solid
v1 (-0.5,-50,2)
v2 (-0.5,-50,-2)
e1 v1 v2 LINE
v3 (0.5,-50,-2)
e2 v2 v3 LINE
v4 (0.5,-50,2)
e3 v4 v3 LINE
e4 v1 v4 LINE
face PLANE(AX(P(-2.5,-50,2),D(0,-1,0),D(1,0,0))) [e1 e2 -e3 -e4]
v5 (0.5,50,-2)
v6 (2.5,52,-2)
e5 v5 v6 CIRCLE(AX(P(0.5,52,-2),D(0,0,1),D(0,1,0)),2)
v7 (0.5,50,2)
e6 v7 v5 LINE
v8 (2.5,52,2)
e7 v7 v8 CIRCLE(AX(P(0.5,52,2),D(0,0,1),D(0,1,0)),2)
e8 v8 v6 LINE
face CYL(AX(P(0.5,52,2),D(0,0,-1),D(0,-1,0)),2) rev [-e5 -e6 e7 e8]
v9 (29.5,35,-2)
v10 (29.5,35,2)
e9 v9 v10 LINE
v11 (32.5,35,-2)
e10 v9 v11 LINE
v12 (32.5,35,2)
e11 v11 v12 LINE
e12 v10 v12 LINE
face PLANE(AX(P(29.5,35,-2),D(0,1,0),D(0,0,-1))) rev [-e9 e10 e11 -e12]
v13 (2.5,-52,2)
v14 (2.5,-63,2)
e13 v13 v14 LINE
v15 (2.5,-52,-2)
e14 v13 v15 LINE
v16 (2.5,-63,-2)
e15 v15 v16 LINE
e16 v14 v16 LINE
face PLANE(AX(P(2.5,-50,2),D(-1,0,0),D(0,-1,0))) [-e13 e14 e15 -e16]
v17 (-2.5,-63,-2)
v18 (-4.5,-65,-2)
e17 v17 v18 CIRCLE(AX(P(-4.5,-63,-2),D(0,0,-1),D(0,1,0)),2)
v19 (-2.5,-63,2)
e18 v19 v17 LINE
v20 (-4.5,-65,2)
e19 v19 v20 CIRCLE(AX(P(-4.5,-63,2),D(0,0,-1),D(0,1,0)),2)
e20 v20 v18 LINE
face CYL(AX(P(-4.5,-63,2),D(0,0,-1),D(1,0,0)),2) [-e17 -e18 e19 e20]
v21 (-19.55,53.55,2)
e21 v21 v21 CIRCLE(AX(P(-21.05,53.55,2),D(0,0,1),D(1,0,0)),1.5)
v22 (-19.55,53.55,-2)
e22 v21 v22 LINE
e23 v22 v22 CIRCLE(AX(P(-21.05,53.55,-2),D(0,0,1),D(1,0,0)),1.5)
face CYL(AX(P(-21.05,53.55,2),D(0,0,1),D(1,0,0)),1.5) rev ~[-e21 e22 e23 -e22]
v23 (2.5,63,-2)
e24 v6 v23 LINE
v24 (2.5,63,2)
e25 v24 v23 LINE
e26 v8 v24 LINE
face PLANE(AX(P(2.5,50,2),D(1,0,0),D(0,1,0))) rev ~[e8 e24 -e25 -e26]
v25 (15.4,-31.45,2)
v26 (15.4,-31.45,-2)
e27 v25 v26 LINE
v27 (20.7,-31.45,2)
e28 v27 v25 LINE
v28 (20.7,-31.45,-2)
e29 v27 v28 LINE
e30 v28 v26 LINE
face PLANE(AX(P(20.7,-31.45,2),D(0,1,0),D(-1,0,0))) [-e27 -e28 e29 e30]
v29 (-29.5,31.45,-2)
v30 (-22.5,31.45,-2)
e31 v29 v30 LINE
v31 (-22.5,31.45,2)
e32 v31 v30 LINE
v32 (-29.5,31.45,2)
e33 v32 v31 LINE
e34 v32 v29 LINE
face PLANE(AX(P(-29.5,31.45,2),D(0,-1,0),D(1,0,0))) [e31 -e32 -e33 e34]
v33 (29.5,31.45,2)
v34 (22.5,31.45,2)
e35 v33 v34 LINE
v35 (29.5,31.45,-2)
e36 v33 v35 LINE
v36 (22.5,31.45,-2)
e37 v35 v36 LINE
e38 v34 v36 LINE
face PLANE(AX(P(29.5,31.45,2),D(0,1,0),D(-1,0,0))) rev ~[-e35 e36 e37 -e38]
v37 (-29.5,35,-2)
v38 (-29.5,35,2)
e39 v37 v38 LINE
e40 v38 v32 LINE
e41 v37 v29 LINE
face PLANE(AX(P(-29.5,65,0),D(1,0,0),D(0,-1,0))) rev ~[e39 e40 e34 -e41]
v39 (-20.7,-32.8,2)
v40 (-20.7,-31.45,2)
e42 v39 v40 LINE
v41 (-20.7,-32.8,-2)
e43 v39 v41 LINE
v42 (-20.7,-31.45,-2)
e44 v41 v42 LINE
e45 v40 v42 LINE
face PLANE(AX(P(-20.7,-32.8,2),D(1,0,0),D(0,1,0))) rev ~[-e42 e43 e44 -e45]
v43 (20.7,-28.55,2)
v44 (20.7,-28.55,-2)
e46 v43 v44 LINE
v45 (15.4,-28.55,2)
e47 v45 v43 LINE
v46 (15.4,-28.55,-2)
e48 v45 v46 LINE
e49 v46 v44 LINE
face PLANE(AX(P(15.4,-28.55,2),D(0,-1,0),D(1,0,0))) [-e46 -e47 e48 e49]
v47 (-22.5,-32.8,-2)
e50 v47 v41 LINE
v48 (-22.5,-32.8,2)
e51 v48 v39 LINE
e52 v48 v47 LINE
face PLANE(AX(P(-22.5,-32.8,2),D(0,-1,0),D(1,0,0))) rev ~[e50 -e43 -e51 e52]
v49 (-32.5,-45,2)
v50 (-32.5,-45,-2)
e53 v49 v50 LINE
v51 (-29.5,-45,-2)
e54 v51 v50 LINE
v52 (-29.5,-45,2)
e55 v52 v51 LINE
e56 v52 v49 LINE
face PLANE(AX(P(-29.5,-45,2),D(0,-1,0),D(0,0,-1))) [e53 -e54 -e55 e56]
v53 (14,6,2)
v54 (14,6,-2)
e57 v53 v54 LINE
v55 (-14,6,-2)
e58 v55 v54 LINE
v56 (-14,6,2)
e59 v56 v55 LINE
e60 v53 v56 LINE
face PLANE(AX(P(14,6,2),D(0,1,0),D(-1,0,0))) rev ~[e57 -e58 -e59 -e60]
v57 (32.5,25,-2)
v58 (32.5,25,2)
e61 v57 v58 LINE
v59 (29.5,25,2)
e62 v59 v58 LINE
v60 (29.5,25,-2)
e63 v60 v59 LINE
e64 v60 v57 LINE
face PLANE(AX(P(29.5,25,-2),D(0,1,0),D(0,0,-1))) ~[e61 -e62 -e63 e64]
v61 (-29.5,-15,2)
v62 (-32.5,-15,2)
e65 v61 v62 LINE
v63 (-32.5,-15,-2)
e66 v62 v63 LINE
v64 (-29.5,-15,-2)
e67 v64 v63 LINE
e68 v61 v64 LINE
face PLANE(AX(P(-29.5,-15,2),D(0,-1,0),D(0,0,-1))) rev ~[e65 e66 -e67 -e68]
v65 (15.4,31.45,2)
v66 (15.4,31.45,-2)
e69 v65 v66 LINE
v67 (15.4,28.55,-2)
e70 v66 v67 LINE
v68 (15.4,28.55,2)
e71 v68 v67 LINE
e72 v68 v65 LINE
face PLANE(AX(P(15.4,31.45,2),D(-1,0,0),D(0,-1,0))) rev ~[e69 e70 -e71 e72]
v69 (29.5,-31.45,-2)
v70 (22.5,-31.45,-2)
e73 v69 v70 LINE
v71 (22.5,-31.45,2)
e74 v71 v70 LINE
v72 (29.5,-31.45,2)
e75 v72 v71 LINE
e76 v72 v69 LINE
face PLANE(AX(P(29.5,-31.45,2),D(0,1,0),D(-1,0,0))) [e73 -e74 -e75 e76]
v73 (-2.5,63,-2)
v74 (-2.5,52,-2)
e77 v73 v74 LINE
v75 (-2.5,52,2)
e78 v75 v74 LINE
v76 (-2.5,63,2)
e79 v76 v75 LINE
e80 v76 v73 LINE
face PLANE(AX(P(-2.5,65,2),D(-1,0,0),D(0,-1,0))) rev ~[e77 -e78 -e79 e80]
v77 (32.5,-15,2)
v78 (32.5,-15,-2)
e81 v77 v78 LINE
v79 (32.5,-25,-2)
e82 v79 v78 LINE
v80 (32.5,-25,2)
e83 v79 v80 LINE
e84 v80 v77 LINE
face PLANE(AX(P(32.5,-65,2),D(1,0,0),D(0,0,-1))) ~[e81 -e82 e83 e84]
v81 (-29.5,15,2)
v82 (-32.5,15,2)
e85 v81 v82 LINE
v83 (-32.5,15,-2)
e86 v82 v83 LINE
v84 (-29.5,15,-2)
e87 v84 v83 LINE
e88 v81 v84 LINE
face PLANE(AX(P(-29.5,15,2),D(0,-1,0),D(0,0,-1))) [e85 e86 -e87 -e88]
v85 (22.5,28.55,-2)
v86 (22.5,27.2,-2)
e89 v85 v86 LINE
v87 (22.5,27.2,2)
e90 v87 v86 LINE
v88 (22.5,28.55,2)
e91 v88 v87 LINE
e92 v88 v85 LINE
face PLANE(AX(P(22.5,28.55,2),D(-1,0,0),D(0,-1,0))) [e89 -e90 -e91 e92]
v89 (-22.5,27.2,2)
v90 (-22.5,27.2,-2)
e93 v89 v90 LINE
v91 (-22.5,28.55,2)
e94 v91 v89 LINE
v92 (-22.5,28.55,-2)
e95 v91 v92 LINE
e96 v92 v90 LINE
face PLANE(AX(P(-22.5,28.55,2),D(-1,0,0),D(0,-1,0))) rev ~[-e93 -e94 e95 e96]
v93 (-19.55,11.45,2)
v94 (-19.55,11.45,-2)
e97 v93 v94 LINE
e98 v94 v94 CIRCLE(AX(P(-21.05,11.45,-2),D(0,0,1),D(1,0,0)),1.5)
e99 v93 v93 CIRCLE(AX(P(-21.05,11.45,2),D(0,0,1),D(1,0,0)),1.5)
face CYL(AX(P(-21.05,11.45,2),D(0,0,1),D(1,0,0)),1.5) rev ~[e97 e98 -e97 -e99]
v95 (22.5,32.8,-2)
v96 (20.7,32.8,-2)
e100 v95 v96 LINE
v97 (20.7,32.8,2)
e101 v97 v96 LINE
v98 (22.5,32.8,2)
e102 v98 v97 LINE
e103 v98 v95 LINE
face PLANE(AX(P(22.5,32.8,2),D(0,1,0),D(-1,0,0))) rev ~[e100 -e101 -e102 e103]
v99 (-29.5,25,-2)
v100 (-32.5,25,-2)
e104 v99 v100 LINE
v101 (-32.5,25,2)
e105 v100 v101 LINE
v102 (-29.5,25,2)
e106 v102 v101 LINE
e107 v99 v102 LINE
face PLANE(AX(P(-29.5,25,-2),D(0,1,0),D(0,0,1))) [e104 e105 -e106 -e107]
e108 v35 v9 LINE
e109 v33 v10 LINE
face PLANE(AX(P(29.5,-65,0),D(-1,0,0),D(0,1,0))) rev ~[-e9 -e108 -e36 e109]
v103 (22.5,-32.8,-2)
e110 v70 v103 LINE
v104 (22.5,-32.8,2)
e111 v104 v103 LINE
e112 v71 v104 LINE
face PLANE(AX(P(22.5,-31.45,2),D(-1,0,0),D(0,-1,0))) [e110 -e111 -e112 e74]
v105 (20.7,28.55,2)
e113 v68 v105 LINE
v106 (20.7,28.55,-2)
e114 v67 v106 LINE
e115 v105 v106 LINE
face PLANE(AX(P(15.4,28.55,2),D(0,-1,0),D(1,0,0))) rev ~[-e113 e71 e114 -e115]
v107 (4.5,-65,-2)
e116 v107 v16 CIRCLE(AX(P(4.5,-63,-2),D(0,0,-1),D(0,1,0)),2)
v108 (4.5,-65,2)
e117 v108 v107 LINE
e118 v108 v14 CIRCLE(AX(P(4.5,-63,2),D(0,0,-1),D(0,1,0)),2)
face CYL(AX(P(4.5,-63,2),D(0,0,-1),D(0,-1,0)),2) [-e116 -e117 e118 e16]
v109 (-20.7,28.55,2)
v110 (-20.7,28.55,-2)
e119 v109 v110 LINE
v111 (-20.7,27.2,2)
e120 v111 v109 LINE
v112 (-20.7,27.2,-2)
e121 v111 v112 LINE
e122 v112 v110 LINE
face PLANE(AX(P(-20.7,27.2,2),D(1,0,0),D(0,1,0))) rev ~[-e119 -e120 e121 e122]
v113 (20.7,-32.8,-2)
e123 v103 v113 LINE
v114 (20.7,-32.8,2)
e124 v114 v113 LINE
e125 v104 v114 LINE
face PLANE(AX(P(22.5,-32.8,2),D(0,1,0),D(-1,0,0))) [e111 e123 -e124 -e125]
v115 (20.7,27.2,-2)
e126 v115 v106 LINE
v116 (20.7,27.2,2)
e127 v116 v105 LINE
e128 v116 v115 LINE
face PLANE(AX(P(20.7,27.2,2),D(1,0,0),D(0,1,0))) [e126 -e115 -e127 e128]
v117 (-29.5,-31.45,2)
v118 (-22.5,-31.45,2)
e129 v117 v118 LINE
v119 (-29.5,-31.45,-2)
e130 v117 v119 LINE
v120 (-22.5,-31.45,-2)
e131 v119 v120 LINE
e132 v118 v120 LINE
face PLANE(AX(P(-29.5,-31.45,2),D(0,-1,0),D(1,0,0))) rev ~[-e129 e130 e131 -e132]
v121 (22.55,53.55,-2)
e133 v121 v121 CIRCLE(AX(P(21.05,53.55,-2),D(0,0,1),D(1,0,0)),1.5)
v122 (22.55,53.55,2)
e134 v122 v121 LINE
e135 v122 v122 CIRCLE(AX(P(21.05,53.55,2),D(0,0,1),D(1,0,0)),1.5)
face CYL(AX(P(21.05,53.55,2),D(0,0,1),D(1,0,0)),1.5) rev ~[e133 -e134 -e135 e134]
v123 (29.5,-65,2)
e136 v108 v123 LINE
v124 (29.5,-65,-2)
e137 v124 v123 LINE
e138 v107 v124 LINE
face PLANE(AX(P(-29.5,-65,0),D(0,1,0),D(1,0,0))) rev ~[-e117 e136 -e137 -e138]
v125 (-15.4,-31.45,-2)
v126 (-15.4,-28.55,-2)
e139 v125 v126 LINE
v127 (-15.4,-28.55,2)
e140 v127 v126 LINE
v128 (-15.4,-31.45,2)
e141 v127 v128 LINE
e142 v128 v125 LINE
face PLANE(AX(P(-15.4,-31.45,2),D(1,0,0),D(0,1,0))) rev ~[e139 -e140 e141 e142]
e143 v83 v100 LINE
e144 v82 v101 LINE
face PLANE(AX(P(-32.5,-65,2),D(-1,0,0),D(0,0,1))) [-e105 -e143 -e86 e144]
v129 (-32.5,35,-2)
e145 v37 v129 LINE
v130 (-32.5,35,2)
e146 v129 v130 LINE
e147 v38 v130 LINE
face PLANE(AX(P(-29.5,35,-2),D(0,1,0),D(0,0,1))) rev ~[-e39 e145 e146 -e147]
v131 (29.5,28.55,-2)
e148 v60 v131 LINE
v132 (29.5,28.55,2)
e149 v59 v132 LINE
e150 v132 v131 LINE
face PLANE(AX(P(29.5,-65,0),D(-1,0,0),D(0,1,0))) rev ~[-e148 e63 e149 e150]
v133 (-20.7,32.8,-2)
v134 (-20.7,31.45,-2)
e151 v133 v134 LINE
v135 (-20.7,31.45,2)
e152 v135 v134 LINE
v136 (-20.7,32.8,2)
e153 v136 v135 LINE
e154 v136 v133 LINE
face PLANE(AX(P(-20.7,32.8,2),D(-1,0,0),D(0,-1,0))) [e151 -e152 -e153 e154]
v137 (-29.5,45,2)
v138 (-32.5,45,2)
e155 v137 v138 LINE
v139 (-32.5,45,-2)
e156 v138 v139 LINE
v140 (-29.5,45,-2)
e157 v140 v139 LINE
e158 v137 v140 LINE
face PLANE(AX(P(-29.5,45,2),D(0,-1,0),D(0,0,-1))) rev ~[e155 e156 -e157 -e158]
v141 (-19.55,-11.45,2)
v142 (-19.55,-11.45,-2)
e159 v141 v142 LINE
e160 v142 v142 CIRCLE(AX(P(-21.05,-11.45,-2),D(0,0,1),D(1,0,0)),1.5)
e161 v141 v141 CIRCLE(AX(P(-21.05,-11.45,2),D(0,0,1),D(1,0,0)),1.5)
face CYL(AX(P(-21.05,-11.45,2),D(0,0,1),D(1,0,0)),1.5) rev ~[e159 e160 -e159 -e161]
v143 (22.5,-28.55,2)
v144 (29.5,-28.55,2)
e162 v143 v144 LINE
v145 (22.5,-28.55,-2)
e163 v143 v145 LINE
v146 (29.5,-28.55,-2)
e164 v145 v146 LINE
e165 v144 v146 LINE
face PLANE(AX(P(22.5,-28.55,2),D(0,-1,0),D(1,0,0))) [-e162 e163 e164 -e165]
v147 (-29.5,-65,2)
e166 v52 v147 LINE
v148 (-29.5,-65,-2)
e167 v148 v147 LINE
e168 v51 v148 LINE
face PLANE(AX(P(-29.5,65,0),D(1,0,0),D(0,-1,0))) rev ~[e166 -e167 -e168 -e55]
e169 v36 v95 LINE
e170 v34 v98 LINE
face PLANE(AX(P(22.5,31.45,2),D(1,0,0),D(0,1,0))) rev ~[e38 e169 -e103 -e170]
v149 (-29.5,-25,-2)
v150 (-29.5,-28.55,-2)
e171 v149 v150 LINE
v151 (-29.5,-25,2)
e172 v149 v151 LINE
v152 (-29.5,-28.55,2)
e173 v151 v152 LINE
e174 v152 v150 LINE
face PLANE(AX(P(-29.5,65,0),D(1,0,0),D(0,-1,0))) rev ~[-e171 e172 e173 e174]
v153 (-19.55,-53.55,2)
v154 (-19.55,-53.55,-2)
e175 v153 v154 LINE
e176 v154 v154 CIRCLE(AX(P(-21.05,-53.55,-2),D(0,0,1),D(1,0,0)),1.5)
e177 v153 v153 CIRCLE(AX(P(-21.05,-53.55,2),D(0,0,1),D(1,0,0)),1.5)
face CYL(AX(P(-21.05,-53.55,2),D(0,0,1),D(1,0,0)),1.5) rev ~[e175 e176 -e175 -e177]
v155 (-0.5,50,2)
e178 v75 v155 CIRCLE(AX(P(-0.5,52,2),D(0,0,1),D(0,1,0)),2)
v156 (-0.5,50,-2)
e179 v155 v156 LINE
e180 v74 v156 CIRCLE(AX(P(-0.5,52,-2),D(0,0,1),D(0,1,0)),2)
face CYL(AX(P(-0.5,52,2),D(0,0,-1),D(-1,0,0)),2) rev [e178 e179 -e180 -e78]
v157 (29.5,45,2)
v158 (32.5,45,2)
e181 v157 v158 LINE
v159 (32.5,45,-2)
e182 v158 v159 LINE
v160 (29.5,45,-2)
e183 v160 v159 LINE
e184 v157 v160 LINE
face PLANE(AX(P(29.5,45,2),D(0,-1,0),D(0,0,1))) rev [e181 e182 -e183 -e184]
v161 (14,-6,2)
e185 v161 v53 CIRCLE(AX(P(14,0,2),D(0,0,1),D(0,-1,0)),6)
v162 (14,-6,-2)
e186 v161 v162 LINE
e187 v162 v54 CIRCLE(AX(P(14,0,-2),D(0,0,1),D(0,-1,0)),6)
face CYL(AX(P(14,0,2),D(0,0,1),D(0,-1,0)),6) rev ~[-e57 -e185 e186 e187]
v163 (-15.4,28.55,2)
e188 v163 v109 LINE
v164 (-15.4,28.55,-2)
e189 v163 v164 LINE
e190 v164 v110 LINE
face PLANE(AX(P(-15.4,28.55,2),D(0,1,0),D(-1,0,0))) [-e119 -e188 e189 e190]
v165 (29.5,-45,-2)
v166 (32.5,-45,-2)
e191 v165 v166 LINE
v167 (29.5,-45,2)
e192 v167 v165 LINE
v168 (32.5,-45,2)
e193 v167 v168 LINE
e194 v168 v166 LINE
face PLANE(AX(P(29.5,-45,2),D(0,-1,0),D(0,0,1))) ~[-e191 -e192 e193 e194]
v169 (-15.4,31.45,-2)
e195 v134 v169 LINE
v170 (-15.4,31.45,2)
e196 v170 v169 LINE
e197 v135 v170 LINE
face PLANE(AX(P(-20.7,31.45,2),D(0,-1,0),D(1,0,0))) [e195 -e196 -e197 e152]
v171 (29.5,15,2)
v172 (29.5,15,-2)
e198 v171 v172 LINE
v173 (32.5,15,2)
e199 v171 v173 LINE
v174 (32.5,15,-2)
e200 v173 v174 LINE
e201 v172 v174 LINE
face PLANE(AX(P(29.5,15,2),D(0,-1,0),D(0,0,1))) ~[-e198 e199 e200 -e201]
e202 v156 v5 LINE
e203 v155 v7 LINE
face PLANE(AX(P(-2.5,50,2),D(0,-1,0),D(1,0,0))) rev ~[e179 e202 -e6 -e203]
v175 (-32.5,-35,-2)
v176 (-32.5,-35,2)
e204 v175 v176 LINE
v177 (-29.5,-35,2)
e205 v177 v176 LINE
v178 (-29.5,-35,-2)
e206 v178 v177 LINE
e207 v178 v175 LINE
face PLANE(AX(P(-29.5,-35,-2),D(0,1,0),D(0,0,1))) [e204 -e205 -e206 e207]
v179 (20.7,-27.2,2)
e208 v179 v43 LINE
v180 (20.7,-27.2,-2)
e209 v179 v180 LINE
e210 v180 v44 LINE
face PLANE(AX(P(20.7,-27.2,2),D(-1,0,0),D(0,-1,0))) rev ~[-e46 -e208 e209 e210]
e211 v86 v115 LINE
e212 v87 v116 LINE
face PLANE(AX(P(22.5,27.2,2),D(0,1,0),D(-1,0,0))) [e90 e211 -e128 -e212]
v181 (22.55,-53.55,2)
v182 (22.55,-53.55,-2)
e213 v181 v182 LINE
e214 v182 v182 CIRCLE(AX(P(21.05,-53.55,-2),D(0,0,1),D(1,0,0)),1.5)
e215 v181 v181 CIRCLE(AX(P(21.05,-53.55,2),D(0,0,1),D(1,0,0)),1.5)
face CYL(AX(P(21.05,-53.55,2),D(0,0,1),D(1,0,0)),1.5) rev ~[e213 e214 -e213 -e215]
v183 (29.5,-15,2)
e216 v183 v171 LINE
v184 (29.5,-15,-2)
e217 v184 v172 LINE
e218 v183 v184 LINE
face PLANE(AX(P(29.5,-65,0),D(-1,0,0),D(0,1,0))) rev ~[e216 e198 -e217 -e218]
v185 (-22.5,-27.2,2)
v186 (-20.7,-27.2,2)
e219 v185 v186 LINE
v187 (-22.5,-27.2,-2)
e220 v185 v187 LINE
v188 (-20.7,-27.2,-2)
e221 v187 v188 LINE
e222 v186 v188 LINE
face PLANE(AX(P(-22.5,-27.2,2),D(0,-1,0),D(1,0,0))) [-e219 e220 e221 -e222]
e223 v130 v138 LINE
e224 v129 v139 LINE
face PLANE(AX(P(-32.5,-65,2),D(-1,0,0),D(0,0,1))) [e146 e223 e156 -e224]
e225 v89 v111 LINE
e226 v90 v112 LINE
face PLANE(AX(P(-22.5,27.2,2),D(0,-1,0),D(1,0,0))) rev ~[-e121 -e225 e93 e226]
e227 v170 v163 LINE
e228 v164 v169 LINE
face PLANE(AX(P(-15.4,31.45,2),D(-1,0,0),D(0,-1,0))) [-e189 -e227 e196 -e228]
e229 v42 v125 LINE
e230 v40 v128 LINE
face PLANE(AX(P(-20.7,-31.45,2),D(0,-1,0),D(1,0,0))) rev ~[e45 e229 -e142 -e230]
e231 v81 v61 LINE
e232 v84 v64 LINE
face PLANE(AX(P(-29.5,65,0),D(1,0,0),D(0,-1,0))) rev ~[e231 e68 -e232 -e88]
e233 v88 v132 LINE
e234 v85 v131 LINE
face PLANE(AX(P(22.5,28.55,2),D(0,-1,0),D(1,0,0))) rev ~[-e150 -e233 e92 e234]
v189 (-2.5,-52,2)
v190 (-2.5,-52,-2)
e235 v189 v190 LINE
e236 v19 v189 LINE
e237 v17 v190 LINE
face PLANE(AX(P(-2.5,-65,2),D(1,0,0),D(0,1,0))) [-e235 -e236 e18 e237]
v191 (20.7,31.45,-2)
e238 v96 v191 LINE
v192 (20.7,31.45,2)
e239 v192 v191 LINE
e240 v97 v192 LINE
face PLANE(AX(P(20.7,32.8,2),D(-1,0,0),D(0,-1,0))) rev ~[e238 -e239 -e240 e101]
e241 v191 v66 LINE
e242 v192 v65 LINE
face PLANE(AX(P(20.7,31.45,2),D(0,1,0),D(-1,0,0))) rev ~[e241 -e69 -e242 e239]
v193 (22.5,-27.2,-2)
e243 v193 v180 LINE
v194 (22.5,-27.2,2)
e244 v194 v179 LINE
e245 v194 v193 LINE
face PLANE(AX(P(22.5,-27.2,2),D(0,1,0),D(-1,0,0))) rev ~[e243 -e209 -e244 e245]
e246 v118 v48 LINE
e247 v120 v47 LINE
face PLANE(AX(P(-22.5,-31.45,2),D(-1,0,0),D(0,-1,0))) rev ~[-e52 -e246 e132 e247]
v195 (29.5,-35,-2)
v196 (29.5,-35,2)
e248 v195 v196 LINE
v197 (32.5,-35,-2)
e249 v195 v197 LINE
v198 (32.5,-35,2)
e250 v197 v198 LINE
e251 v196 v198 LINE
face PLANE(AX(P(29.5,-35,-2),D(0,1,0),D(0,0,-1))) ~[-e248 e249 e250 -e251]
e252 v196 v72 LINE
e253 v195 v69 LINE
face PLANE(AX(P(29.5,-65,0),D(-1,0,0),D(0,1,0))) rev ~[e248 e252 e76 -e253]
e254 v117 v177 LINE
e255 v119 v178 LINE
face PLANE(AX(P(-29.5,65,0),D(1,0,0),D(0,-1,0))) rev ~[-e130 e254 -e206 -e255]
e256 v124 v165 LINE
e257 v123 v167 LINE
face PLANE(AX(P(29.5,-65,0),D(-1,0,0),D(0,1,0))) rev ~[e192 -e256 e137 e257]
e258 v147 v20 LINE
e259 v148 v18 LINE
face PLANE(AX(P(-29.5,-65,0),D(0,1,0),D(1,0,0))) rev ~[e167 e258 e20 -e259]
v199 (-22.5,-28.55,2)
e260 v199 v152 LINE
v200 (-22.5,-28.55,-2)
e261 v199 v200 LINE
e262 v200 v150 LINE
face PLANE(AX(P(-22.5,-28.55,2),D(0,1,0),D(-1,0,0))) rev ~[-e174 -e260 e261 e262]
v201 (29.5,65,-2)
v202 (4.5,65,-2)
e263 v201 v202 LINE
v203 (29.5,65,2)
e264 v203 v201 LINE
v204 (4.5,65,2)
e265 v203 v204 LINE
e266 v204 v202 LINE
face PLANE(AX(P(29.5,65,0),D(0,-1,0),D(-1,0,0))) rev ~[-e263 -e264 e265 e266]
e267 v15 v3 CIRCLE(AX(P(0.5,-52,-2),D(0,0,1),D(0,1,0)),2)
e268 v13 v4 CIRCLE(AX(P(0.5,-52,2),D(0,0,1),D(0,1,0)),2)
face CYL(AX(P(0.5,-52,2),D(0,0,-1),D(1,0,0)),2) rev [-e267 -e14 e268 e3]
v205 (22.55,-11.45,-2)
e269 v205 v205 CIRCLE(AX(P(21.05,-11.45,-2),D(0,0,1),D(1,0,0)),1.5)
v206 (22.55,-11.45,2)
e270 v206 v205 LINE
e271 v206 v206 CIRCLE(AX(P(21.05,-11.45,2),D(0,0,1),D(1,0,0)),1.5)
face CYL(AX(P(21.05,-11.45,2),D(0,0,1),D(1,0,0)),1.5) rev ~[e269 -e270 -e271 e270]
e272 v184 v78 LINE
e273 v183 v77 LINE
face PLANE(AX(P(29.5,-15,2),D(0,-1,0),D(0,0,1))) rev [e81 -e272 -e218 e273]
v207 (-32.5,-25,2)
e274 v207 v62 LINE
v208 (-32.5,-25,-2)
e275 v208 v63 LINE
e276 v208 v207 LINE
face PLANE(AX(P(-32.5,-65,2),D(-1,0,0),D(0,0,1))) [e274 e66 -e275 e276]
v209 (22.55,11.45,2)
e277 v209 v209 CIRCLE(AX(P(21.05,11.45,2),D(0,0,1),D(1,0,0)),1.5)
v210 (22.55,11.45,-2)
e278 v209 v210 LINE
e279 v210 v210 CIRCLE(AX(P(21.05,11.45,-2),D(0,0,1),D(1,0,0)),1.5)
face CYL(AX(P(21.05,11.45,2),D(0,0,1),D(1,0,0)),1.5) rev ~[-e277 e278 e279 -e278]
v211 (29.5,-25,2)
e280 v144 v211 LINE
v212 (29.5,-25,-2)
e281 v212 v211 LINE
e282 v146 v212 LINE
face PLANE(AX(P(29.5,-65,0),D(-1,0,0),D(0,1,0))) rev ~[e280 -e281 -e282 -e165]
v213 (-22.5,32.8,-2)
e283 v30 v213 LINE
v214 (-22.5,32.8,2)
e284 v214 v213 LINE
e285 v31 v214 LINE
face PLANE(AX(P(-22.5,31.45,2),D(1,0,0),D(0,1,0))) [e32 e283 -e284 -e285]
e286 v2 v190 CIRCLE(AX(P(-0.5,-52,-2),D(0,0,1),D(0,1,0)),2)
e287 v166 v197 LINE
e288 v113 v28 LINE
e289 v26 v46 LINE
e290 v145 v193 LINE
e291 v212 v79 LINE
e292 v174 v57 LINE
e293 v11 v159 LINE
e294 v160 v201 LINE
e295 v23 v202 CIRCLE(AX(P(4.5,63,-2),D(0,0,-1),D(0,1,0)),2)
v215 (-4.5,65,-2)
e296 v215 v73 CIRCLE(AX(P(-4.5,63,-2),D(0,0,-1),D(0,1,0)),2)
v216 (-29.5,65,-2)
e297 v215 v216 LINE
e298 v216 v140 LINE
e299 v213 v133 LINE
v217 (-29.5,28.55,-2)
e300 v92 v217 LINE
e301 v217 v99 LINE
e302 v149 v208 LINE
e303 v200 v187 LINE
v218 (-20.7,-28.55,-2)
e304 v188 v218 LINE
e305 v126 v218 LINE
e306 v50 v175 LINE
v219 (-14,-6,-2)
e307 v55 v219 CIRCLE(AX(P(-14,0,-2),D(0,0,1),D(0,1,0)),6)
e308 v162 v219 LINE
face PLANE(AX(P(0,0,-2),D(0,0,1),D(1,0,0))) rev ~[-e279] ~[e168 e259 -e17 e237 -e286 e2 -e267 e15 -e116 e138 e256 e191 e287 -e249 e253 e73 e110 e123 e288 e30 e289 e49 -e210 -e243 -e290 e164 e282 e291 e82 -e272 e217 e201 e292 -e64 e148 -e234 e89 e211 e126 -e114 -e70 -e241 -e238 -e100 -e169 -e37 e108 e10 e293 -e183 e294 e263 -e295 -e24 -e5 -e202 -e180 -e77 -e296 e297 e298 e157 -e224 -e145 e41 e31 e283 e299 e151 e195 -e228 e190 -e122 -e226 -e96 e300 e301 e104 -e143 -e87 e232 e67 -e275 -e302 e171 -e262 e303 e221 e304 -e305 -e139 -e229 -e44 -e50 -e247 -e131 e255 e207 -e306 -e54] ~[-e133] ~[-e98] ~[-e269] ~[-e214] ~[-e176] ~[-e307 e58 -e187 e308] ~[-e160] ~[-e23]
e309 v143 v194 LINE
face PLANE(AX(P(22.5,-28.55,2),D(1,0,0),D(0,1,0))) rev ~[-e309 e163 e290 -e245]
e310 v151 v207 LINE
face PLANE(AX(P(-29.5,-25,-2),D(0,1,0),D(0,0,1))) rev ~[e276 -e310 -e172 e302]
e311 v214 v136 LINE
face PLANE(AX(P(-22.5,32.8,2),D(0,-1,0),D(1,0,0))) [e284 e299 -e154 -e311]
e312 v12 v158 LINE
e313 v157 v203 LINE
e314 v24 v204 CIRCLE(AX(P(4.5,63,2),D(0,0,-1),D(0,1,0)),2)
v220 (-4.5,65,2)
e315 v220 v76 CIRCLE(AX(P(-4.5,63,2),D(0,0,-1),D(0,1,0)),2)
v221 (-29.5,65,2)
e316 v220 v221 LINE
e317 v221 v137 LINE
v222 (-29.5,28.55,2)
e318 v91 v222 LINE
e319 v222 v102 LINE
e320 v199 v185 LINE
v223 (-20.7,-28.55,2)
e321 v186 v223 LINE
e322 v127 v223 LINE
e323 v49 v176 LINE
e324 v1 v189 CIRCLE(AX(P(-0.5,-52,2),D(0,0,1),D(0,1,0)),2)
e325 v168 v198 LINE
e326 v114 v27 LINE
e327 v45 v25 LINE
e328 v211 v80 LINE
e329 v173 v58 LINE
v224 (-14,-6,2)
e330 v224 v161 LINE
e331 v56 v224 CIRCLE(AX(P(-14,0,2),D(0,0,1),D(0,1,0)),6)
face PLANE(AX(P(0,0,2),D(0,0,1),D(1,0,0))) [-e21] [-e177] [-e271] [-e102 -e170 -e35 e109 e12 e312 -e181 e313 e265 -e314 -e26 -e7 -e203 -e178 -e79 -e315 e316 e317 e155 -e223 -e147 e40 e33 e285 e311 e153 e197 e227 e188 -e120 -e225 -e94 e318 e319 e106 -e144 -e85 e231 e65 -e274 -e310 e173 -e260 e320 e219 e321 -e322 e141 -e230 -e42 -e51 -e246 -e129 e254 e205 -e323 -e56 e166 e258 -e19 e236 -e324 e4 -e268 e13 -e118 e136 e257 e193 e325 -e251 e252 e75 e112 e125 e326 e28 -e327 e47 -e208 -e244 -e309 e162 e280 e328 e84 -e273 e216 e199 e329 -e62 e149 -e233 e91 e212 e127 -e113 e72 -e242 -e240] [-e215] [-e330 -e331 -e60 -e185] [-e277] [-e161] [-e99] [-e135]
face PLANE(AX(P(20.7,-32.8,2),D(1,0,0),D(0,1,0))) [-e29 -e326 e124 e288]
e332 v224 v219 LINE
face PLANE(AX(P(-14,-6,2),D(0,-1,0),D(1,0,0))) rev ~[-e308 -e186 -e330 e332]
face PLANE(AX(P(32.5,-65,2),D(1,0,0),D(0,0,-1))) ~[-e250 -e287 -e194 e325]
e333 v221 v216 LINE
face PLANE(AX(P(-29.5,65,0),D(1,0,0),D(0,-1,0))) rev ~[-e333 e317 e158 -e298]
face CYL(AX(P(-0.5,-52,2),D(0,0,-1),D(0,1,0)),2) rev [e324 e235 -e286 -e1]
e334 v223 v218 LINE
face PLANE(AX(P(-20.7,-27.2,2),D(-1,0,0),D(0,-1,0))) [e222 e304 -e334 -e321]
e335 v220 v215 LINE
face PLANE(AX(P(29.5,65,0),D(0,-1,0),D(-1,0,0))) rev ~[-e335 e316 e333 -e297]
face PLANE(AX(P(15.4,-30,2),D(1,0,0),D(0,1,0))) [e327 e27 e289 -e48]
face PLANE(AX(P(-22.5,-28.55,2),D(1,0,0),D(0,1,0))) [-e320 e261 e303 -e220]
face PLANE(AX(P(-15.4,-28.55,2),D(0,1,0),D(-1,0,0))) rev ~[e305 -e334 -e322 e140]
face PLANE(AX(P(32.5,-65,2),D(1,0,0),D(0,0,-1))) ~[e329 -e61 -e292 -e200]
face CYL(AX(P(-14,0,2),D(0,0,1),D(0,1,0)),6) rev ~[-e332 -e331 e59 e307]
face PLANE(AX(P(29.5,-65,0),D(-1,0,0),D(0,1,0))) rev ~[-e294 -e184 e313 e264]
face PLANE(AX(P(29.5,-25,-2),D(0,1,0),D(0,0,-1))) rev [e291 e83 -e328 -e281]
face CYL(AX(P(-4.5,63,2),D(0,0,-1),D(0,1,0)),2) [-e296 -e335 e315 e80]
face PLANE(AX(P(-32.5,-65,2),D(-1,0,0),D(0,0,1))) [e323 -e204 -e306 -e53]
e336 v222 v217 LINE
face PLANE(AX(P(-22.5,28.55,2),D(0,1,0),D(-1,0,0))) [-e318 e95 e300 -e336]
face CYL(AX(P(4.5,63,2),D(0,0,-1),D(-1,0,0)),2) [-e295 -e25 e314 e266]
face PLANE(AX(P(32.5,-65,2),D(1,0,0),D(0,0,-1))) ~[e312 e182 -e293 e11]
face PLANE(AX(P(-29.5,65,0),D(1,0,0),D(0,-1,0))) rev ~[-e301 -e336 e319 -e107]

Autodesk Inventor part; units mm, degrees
sketch "Эскиз1" plane through (0, 0, 0) normal (0, 0, 1) x (1, 0, 0)
  line L0 (-29.5, -65) -> (29.5, -65)
  line L1 (29.5, -65) -> (29.5, 65)
  line L2 (29.5, 65) -> (-29.5, 65)
  line L3 (-29.5, 65) -> (-29.5, -65)
  line L4 (-29.5, -65) -> (29.5, 65) construction
  line L5 (29.5, -65) -> (-29.5, 65) construction
  point P0 (0, 0)
  dimension "d0" = 59
  dimension "d1" = 130
extrude "Выдавливание1" add sketch "Эскиз1" along normal mid plane 4
sketch "Эскиз3" plane through (-29.5, -65, 2) normal (-1, 0, 0) x (0, 0, 1)
  line L0 (-4, 0) -> (-4, 130) projected
  line L1 (0, 0) -> (0, 130) projected
  line L2 (-4, 100) -> (0, 100)
  line L3 (0, 100) -> (0, 110)
  line L4 (0, 110) -> (-4, 110)
  line L5 (-4, 110) -> (-4, 100)
  line L6 (-4, 130) -> (0, 130) projected
  line L7 (-4, 90) -> (0, 90)
  line L8 (0, 90) -> (0, 80)
  line L9 (0, 80) -> (-4, 80)
  line L10 (-4, 80) -> (-4, 90)
  line L11 (-4, 65) -> (0, 65) construction
  line L12 (-4, 30) -> (0, 30)
  line L13 (0, 30) -> (0, 20)
  line L14 (0, 20) -> (-4, 20)
  line L15 (-4, 20) -> (-4, 30)
  line L16 (-4, 40) -> (0, 40)
  line L17 (0, 40) -> (0, 50)
  line L18 (0, 50) -> (-4, 50)
  line L19 (-4, 50) -> (-4, 40)
  point P0 (-2, 65)
  point P1 (0, 30)
  point P2 (0, 40)
  point P3 (0, 90)
  point P4 (0, 100)
  dimension "d18" = 10
  dimension "d19" = 10
  dimension "d20" = 20
  dimension "d21" = 10
extrude "Выдавливание3" add sketch "Эскиз3" along normal blind 3 contours L0 L12 L1 L14 | L0 L18 L1 L16 | L0 L7 L1 L9 | L0 L4 L1 L2
mirror "Зеркальное отражение2" about plane through (0, 0, 0) normal (1, 0, 0) of "Выдавливание3"
sketch "Эскиз4" plane through (0, 0, 2) normal (0, 0, 1) x (1, 0, 0)
  line L0 (-15.4, 31.45) -> (-15.4, 28.55)
  line L1 (-29.5, 28.55) -> (-29.5, 31.45)
  line L2 (-22.5, 32.8) -> (-20.7, 32.8)
  line L3 (-22.5, 27.2) -> (-20.7, 27.2)
  line L4 (-29.5, 30) -> (-15.4, 30)
  line L5 (-20.7, 27.2) -> (-20.7, 28.55)
  line L6 (-22.5, 31.45) -> (-22.5, 32.8)
  line L7 (-20.7, 32.8) -> (-20.7, 31.45)
  line L8 (-22.5, 28.55) -> (-22.5, 27.2)
  line L9 (-29.5, 31.45) -> (-22.5, 31.45)
  line L10 (-20.7, 31.45) -> (-15.4, 31.45)
  line L11 (-15.4, 28.55) -> (-20.7, 28.55)
  line L12 (-22.5, 28.55) -> (-29.5, 28.55)
  line L13 (-29.5, 35) -> (-29.5, 25) projected
  line L14 (0, 3.054) -> (0, -3.054) construction
  line L15 (-15.3649, 0) -> (15.3649, 0)
  line L16 (-15.4, -31.45) -> (-15.4, -28.55)
  line L17 (-29.5, -28.55) -> (-29.5, -31.45)
  line L18 (-22.5, -32.8) -> (-20.7, -32.8)
  line L19 (-22.5, -27.2) -> (-20.7, -27.2)
  line L20 (-29.5, -30) -> (-15.4, -30)
  line L21 (-20.7, -27.2) -> (-20.7, -28.55)
  line L22 (-22.5, -31.45) -> (-22.5, -32.8)
  line L23 (-20.7, -32.8) -> (-20.7, -31.45)
  line L24 (-22.5, -28.55) -> (-22.5, -27.2)
  line L25 (-29.5, -31.45) -> (-22.5, -31.45)
  line L26 (-20.7, -31.45) -> (-15.4, -31.45)
  line L27 (-15.4, -28.55) -> (-20.7, -28.55)
  line L28 (-22.5, -28.55) -> (-29.5, -28.55)
  line L29 (-29.5, -35) -> (-29.5, -25)
  line L30 (0, -3.054) -> (0, 3.054) construction
  line L31 (15.4, 31.45) -> (15.4, 28.55)
  line L32 (29.5, 28.55) -> (29.5, 31.45)
  line L33 (22.5, 32.8) -> (20.7, 32.8)
  line L34 (22.5, 27.2) -> (20.7, 27.2)
  line L35 (29.5, 30) -> (15.4, 30)
  line L36 (20.7, 27.2) -> (20.7, 28.55)
  line L37 (22.5, 31.45) -> (22.5, 32.8)
  line L38 (20.7, 32.8) -> (20.7, 31.45)
  line L39 (22.5, 28.55) -> (22.5, 27.2)
  line L40 (29.5, 31.45) -> (22.5, 31.45)
  line L41 (20.7, 31.45) -> (15.4, 31.45)
  line L42 (15.4, 28.55) -> (20.7, 28.55)
  line L43 (22.5, 28.55) -> (29.5, 28.55)
  line L44 (29.5, 35) -> (29.5, 25)
  line L45 (20.7, -27.2) -> (20.7, -28.55)
  line L46 (22.5, -27.2) -> (20.7, -27.2)
  line L47 (22.5, -28.55) -> (22.5, -27.2)
  line L48 (20.7, -31.45) -> (15.4, -31.45)
  line L49 (20.7, -32.8) -> (20.7, -31.45)
  line L50 (22.5, -32.8) -> (20.7, -32.8)
  line L51 (22.5, -31.45) -> (22.5, -32.8)
  line L52 (29.5, -30) -> (15.4, -30)
  line L53 (22.5, -28.55) -> (29.5, -28.55)
  line L54 (29.5, -28.55) -> (29.5, -31.45)
  line L55 (29.5, -31.45) -> (22.5, -31.45)
  line L56 (15.4, -31.45) -> (15.4, -28.55)
  line L57 (15.4, -28.55) -> (20.7, -28.55)
  point P0 (0, 0)
  point P1 (0, 0)
  point P2 (29.5, -25)
  dimension "d26" = 2.9
  dimension "d31" = 1.8
  dimension "d32" = 1.35
  dimension "d33" = 7
  dimension "d34" = 5.3
  dimension "d35" = 2.9
extrude "Выдавливание4" cut sketch "Эскиз4" against normal up to surface (4 mm away)
sketch "Эскиз5" plane through (0, 0, 2) normal (0, 0, 1) x (1, 0, 0)
  line L0 (29.5, 65) -> (-29.5, 65) construction
  line L1 (2.5, 65) -> (-2.5, 65)
  line L2 (-2.5, 65) -> (-2.5, 50)
  line L3 (-2.5, 50) -> (2.5, 50)
  line L4 (2.5, 50) -> (2.5, 65)
  line L5 (-2.9793, 0) -> (2.9793, 0) construction
  line L6 (29.5, -65) -> (-29.5, -65) construction
  line L7 (-2.5, -65) -> (-2.5, -50)
  line L8 (-2.5, -50) -> (2.5, -50)
  line L9 (2.5, -50) -> (2.5, -65)
  line L10 (-2.5, -65) -> (2.5, -65)
  line L11 (-29.5, -65) -> (29.5, -65) projected
  point P0 (0, 0)
  point P1 (0, 65)
  point P2 (0, 0)
  dimension "d38" = 5
  dimension "d39" = 15
extrude "Выдавливание5" cut sketch "Эскиз5" against normal up to surface (4 mm away)
fillet "Сопряжение1" radius 2 8 edges at (2.5, 50, 0) (-2.5, 50, 0) (-2.5, -50, 0) (2.5, -50, 0) (2.5, 65, 0) (-2.5, 65, 0) (2.5, -65, 0) (-2.5, -65, 0)
sketch "Эскиз8" plane through (0, 0, 2) normal (0, 0, 1) x (1, 0, 0)
  circle A0 centre (-21.05, 11.45) radius 1.5
  circle A1 centre (21.05, 11.45) radius 1.5
  circle A2 centre (-21.05, 53.55) radius 1.5
  circle A3 centre (21.05, 53.55) radius 1.5
  circle A4 centre (21.05, -11.45) radius 1.5
  circle A5 centre (-21.05, -11.45) radius 1.5
  circle A6 centre (-21.05, -53.55) radius 1.5
  circle A7 centre (21.05, -53.55) radius 1.5
  point P0 (0, 0)
extrude "Выдавливание8" cut sketch "Эскиз8" against normal up to surface (4 mm away)
sketch "Эскиз9" plane through (0, 0, 2) normal (0, 0, 1) x (1, 0, 0)
  point P0 (0, 0)
sketch "Эскиз10" plane through (0, 0, 2) normal (0, 0, 1) x (1, 0, 0)
  line L0 (-14, 0) -> (14, 0) construction
  line L1 (-14, -6) -> (14, -6)
  line L2 (14, 6) -> (-14, 6)
  arc A0 (-14, 6) -> (-14, -6) centre (-14, 0) ccw
  arc A1 (14, -6) -> (14, 6) centre (14, 0) ccw
  point P0 (0, 0)
  point P1 (-20, 0)
  point P2 (20, 0)
  dimension "d49" = 12
  dimension "d50" = 40
extrude "Выдавливание9" cut sketch "Эскиз10" against normal up to next
properties part number "Фанерка ерпления колонок"
